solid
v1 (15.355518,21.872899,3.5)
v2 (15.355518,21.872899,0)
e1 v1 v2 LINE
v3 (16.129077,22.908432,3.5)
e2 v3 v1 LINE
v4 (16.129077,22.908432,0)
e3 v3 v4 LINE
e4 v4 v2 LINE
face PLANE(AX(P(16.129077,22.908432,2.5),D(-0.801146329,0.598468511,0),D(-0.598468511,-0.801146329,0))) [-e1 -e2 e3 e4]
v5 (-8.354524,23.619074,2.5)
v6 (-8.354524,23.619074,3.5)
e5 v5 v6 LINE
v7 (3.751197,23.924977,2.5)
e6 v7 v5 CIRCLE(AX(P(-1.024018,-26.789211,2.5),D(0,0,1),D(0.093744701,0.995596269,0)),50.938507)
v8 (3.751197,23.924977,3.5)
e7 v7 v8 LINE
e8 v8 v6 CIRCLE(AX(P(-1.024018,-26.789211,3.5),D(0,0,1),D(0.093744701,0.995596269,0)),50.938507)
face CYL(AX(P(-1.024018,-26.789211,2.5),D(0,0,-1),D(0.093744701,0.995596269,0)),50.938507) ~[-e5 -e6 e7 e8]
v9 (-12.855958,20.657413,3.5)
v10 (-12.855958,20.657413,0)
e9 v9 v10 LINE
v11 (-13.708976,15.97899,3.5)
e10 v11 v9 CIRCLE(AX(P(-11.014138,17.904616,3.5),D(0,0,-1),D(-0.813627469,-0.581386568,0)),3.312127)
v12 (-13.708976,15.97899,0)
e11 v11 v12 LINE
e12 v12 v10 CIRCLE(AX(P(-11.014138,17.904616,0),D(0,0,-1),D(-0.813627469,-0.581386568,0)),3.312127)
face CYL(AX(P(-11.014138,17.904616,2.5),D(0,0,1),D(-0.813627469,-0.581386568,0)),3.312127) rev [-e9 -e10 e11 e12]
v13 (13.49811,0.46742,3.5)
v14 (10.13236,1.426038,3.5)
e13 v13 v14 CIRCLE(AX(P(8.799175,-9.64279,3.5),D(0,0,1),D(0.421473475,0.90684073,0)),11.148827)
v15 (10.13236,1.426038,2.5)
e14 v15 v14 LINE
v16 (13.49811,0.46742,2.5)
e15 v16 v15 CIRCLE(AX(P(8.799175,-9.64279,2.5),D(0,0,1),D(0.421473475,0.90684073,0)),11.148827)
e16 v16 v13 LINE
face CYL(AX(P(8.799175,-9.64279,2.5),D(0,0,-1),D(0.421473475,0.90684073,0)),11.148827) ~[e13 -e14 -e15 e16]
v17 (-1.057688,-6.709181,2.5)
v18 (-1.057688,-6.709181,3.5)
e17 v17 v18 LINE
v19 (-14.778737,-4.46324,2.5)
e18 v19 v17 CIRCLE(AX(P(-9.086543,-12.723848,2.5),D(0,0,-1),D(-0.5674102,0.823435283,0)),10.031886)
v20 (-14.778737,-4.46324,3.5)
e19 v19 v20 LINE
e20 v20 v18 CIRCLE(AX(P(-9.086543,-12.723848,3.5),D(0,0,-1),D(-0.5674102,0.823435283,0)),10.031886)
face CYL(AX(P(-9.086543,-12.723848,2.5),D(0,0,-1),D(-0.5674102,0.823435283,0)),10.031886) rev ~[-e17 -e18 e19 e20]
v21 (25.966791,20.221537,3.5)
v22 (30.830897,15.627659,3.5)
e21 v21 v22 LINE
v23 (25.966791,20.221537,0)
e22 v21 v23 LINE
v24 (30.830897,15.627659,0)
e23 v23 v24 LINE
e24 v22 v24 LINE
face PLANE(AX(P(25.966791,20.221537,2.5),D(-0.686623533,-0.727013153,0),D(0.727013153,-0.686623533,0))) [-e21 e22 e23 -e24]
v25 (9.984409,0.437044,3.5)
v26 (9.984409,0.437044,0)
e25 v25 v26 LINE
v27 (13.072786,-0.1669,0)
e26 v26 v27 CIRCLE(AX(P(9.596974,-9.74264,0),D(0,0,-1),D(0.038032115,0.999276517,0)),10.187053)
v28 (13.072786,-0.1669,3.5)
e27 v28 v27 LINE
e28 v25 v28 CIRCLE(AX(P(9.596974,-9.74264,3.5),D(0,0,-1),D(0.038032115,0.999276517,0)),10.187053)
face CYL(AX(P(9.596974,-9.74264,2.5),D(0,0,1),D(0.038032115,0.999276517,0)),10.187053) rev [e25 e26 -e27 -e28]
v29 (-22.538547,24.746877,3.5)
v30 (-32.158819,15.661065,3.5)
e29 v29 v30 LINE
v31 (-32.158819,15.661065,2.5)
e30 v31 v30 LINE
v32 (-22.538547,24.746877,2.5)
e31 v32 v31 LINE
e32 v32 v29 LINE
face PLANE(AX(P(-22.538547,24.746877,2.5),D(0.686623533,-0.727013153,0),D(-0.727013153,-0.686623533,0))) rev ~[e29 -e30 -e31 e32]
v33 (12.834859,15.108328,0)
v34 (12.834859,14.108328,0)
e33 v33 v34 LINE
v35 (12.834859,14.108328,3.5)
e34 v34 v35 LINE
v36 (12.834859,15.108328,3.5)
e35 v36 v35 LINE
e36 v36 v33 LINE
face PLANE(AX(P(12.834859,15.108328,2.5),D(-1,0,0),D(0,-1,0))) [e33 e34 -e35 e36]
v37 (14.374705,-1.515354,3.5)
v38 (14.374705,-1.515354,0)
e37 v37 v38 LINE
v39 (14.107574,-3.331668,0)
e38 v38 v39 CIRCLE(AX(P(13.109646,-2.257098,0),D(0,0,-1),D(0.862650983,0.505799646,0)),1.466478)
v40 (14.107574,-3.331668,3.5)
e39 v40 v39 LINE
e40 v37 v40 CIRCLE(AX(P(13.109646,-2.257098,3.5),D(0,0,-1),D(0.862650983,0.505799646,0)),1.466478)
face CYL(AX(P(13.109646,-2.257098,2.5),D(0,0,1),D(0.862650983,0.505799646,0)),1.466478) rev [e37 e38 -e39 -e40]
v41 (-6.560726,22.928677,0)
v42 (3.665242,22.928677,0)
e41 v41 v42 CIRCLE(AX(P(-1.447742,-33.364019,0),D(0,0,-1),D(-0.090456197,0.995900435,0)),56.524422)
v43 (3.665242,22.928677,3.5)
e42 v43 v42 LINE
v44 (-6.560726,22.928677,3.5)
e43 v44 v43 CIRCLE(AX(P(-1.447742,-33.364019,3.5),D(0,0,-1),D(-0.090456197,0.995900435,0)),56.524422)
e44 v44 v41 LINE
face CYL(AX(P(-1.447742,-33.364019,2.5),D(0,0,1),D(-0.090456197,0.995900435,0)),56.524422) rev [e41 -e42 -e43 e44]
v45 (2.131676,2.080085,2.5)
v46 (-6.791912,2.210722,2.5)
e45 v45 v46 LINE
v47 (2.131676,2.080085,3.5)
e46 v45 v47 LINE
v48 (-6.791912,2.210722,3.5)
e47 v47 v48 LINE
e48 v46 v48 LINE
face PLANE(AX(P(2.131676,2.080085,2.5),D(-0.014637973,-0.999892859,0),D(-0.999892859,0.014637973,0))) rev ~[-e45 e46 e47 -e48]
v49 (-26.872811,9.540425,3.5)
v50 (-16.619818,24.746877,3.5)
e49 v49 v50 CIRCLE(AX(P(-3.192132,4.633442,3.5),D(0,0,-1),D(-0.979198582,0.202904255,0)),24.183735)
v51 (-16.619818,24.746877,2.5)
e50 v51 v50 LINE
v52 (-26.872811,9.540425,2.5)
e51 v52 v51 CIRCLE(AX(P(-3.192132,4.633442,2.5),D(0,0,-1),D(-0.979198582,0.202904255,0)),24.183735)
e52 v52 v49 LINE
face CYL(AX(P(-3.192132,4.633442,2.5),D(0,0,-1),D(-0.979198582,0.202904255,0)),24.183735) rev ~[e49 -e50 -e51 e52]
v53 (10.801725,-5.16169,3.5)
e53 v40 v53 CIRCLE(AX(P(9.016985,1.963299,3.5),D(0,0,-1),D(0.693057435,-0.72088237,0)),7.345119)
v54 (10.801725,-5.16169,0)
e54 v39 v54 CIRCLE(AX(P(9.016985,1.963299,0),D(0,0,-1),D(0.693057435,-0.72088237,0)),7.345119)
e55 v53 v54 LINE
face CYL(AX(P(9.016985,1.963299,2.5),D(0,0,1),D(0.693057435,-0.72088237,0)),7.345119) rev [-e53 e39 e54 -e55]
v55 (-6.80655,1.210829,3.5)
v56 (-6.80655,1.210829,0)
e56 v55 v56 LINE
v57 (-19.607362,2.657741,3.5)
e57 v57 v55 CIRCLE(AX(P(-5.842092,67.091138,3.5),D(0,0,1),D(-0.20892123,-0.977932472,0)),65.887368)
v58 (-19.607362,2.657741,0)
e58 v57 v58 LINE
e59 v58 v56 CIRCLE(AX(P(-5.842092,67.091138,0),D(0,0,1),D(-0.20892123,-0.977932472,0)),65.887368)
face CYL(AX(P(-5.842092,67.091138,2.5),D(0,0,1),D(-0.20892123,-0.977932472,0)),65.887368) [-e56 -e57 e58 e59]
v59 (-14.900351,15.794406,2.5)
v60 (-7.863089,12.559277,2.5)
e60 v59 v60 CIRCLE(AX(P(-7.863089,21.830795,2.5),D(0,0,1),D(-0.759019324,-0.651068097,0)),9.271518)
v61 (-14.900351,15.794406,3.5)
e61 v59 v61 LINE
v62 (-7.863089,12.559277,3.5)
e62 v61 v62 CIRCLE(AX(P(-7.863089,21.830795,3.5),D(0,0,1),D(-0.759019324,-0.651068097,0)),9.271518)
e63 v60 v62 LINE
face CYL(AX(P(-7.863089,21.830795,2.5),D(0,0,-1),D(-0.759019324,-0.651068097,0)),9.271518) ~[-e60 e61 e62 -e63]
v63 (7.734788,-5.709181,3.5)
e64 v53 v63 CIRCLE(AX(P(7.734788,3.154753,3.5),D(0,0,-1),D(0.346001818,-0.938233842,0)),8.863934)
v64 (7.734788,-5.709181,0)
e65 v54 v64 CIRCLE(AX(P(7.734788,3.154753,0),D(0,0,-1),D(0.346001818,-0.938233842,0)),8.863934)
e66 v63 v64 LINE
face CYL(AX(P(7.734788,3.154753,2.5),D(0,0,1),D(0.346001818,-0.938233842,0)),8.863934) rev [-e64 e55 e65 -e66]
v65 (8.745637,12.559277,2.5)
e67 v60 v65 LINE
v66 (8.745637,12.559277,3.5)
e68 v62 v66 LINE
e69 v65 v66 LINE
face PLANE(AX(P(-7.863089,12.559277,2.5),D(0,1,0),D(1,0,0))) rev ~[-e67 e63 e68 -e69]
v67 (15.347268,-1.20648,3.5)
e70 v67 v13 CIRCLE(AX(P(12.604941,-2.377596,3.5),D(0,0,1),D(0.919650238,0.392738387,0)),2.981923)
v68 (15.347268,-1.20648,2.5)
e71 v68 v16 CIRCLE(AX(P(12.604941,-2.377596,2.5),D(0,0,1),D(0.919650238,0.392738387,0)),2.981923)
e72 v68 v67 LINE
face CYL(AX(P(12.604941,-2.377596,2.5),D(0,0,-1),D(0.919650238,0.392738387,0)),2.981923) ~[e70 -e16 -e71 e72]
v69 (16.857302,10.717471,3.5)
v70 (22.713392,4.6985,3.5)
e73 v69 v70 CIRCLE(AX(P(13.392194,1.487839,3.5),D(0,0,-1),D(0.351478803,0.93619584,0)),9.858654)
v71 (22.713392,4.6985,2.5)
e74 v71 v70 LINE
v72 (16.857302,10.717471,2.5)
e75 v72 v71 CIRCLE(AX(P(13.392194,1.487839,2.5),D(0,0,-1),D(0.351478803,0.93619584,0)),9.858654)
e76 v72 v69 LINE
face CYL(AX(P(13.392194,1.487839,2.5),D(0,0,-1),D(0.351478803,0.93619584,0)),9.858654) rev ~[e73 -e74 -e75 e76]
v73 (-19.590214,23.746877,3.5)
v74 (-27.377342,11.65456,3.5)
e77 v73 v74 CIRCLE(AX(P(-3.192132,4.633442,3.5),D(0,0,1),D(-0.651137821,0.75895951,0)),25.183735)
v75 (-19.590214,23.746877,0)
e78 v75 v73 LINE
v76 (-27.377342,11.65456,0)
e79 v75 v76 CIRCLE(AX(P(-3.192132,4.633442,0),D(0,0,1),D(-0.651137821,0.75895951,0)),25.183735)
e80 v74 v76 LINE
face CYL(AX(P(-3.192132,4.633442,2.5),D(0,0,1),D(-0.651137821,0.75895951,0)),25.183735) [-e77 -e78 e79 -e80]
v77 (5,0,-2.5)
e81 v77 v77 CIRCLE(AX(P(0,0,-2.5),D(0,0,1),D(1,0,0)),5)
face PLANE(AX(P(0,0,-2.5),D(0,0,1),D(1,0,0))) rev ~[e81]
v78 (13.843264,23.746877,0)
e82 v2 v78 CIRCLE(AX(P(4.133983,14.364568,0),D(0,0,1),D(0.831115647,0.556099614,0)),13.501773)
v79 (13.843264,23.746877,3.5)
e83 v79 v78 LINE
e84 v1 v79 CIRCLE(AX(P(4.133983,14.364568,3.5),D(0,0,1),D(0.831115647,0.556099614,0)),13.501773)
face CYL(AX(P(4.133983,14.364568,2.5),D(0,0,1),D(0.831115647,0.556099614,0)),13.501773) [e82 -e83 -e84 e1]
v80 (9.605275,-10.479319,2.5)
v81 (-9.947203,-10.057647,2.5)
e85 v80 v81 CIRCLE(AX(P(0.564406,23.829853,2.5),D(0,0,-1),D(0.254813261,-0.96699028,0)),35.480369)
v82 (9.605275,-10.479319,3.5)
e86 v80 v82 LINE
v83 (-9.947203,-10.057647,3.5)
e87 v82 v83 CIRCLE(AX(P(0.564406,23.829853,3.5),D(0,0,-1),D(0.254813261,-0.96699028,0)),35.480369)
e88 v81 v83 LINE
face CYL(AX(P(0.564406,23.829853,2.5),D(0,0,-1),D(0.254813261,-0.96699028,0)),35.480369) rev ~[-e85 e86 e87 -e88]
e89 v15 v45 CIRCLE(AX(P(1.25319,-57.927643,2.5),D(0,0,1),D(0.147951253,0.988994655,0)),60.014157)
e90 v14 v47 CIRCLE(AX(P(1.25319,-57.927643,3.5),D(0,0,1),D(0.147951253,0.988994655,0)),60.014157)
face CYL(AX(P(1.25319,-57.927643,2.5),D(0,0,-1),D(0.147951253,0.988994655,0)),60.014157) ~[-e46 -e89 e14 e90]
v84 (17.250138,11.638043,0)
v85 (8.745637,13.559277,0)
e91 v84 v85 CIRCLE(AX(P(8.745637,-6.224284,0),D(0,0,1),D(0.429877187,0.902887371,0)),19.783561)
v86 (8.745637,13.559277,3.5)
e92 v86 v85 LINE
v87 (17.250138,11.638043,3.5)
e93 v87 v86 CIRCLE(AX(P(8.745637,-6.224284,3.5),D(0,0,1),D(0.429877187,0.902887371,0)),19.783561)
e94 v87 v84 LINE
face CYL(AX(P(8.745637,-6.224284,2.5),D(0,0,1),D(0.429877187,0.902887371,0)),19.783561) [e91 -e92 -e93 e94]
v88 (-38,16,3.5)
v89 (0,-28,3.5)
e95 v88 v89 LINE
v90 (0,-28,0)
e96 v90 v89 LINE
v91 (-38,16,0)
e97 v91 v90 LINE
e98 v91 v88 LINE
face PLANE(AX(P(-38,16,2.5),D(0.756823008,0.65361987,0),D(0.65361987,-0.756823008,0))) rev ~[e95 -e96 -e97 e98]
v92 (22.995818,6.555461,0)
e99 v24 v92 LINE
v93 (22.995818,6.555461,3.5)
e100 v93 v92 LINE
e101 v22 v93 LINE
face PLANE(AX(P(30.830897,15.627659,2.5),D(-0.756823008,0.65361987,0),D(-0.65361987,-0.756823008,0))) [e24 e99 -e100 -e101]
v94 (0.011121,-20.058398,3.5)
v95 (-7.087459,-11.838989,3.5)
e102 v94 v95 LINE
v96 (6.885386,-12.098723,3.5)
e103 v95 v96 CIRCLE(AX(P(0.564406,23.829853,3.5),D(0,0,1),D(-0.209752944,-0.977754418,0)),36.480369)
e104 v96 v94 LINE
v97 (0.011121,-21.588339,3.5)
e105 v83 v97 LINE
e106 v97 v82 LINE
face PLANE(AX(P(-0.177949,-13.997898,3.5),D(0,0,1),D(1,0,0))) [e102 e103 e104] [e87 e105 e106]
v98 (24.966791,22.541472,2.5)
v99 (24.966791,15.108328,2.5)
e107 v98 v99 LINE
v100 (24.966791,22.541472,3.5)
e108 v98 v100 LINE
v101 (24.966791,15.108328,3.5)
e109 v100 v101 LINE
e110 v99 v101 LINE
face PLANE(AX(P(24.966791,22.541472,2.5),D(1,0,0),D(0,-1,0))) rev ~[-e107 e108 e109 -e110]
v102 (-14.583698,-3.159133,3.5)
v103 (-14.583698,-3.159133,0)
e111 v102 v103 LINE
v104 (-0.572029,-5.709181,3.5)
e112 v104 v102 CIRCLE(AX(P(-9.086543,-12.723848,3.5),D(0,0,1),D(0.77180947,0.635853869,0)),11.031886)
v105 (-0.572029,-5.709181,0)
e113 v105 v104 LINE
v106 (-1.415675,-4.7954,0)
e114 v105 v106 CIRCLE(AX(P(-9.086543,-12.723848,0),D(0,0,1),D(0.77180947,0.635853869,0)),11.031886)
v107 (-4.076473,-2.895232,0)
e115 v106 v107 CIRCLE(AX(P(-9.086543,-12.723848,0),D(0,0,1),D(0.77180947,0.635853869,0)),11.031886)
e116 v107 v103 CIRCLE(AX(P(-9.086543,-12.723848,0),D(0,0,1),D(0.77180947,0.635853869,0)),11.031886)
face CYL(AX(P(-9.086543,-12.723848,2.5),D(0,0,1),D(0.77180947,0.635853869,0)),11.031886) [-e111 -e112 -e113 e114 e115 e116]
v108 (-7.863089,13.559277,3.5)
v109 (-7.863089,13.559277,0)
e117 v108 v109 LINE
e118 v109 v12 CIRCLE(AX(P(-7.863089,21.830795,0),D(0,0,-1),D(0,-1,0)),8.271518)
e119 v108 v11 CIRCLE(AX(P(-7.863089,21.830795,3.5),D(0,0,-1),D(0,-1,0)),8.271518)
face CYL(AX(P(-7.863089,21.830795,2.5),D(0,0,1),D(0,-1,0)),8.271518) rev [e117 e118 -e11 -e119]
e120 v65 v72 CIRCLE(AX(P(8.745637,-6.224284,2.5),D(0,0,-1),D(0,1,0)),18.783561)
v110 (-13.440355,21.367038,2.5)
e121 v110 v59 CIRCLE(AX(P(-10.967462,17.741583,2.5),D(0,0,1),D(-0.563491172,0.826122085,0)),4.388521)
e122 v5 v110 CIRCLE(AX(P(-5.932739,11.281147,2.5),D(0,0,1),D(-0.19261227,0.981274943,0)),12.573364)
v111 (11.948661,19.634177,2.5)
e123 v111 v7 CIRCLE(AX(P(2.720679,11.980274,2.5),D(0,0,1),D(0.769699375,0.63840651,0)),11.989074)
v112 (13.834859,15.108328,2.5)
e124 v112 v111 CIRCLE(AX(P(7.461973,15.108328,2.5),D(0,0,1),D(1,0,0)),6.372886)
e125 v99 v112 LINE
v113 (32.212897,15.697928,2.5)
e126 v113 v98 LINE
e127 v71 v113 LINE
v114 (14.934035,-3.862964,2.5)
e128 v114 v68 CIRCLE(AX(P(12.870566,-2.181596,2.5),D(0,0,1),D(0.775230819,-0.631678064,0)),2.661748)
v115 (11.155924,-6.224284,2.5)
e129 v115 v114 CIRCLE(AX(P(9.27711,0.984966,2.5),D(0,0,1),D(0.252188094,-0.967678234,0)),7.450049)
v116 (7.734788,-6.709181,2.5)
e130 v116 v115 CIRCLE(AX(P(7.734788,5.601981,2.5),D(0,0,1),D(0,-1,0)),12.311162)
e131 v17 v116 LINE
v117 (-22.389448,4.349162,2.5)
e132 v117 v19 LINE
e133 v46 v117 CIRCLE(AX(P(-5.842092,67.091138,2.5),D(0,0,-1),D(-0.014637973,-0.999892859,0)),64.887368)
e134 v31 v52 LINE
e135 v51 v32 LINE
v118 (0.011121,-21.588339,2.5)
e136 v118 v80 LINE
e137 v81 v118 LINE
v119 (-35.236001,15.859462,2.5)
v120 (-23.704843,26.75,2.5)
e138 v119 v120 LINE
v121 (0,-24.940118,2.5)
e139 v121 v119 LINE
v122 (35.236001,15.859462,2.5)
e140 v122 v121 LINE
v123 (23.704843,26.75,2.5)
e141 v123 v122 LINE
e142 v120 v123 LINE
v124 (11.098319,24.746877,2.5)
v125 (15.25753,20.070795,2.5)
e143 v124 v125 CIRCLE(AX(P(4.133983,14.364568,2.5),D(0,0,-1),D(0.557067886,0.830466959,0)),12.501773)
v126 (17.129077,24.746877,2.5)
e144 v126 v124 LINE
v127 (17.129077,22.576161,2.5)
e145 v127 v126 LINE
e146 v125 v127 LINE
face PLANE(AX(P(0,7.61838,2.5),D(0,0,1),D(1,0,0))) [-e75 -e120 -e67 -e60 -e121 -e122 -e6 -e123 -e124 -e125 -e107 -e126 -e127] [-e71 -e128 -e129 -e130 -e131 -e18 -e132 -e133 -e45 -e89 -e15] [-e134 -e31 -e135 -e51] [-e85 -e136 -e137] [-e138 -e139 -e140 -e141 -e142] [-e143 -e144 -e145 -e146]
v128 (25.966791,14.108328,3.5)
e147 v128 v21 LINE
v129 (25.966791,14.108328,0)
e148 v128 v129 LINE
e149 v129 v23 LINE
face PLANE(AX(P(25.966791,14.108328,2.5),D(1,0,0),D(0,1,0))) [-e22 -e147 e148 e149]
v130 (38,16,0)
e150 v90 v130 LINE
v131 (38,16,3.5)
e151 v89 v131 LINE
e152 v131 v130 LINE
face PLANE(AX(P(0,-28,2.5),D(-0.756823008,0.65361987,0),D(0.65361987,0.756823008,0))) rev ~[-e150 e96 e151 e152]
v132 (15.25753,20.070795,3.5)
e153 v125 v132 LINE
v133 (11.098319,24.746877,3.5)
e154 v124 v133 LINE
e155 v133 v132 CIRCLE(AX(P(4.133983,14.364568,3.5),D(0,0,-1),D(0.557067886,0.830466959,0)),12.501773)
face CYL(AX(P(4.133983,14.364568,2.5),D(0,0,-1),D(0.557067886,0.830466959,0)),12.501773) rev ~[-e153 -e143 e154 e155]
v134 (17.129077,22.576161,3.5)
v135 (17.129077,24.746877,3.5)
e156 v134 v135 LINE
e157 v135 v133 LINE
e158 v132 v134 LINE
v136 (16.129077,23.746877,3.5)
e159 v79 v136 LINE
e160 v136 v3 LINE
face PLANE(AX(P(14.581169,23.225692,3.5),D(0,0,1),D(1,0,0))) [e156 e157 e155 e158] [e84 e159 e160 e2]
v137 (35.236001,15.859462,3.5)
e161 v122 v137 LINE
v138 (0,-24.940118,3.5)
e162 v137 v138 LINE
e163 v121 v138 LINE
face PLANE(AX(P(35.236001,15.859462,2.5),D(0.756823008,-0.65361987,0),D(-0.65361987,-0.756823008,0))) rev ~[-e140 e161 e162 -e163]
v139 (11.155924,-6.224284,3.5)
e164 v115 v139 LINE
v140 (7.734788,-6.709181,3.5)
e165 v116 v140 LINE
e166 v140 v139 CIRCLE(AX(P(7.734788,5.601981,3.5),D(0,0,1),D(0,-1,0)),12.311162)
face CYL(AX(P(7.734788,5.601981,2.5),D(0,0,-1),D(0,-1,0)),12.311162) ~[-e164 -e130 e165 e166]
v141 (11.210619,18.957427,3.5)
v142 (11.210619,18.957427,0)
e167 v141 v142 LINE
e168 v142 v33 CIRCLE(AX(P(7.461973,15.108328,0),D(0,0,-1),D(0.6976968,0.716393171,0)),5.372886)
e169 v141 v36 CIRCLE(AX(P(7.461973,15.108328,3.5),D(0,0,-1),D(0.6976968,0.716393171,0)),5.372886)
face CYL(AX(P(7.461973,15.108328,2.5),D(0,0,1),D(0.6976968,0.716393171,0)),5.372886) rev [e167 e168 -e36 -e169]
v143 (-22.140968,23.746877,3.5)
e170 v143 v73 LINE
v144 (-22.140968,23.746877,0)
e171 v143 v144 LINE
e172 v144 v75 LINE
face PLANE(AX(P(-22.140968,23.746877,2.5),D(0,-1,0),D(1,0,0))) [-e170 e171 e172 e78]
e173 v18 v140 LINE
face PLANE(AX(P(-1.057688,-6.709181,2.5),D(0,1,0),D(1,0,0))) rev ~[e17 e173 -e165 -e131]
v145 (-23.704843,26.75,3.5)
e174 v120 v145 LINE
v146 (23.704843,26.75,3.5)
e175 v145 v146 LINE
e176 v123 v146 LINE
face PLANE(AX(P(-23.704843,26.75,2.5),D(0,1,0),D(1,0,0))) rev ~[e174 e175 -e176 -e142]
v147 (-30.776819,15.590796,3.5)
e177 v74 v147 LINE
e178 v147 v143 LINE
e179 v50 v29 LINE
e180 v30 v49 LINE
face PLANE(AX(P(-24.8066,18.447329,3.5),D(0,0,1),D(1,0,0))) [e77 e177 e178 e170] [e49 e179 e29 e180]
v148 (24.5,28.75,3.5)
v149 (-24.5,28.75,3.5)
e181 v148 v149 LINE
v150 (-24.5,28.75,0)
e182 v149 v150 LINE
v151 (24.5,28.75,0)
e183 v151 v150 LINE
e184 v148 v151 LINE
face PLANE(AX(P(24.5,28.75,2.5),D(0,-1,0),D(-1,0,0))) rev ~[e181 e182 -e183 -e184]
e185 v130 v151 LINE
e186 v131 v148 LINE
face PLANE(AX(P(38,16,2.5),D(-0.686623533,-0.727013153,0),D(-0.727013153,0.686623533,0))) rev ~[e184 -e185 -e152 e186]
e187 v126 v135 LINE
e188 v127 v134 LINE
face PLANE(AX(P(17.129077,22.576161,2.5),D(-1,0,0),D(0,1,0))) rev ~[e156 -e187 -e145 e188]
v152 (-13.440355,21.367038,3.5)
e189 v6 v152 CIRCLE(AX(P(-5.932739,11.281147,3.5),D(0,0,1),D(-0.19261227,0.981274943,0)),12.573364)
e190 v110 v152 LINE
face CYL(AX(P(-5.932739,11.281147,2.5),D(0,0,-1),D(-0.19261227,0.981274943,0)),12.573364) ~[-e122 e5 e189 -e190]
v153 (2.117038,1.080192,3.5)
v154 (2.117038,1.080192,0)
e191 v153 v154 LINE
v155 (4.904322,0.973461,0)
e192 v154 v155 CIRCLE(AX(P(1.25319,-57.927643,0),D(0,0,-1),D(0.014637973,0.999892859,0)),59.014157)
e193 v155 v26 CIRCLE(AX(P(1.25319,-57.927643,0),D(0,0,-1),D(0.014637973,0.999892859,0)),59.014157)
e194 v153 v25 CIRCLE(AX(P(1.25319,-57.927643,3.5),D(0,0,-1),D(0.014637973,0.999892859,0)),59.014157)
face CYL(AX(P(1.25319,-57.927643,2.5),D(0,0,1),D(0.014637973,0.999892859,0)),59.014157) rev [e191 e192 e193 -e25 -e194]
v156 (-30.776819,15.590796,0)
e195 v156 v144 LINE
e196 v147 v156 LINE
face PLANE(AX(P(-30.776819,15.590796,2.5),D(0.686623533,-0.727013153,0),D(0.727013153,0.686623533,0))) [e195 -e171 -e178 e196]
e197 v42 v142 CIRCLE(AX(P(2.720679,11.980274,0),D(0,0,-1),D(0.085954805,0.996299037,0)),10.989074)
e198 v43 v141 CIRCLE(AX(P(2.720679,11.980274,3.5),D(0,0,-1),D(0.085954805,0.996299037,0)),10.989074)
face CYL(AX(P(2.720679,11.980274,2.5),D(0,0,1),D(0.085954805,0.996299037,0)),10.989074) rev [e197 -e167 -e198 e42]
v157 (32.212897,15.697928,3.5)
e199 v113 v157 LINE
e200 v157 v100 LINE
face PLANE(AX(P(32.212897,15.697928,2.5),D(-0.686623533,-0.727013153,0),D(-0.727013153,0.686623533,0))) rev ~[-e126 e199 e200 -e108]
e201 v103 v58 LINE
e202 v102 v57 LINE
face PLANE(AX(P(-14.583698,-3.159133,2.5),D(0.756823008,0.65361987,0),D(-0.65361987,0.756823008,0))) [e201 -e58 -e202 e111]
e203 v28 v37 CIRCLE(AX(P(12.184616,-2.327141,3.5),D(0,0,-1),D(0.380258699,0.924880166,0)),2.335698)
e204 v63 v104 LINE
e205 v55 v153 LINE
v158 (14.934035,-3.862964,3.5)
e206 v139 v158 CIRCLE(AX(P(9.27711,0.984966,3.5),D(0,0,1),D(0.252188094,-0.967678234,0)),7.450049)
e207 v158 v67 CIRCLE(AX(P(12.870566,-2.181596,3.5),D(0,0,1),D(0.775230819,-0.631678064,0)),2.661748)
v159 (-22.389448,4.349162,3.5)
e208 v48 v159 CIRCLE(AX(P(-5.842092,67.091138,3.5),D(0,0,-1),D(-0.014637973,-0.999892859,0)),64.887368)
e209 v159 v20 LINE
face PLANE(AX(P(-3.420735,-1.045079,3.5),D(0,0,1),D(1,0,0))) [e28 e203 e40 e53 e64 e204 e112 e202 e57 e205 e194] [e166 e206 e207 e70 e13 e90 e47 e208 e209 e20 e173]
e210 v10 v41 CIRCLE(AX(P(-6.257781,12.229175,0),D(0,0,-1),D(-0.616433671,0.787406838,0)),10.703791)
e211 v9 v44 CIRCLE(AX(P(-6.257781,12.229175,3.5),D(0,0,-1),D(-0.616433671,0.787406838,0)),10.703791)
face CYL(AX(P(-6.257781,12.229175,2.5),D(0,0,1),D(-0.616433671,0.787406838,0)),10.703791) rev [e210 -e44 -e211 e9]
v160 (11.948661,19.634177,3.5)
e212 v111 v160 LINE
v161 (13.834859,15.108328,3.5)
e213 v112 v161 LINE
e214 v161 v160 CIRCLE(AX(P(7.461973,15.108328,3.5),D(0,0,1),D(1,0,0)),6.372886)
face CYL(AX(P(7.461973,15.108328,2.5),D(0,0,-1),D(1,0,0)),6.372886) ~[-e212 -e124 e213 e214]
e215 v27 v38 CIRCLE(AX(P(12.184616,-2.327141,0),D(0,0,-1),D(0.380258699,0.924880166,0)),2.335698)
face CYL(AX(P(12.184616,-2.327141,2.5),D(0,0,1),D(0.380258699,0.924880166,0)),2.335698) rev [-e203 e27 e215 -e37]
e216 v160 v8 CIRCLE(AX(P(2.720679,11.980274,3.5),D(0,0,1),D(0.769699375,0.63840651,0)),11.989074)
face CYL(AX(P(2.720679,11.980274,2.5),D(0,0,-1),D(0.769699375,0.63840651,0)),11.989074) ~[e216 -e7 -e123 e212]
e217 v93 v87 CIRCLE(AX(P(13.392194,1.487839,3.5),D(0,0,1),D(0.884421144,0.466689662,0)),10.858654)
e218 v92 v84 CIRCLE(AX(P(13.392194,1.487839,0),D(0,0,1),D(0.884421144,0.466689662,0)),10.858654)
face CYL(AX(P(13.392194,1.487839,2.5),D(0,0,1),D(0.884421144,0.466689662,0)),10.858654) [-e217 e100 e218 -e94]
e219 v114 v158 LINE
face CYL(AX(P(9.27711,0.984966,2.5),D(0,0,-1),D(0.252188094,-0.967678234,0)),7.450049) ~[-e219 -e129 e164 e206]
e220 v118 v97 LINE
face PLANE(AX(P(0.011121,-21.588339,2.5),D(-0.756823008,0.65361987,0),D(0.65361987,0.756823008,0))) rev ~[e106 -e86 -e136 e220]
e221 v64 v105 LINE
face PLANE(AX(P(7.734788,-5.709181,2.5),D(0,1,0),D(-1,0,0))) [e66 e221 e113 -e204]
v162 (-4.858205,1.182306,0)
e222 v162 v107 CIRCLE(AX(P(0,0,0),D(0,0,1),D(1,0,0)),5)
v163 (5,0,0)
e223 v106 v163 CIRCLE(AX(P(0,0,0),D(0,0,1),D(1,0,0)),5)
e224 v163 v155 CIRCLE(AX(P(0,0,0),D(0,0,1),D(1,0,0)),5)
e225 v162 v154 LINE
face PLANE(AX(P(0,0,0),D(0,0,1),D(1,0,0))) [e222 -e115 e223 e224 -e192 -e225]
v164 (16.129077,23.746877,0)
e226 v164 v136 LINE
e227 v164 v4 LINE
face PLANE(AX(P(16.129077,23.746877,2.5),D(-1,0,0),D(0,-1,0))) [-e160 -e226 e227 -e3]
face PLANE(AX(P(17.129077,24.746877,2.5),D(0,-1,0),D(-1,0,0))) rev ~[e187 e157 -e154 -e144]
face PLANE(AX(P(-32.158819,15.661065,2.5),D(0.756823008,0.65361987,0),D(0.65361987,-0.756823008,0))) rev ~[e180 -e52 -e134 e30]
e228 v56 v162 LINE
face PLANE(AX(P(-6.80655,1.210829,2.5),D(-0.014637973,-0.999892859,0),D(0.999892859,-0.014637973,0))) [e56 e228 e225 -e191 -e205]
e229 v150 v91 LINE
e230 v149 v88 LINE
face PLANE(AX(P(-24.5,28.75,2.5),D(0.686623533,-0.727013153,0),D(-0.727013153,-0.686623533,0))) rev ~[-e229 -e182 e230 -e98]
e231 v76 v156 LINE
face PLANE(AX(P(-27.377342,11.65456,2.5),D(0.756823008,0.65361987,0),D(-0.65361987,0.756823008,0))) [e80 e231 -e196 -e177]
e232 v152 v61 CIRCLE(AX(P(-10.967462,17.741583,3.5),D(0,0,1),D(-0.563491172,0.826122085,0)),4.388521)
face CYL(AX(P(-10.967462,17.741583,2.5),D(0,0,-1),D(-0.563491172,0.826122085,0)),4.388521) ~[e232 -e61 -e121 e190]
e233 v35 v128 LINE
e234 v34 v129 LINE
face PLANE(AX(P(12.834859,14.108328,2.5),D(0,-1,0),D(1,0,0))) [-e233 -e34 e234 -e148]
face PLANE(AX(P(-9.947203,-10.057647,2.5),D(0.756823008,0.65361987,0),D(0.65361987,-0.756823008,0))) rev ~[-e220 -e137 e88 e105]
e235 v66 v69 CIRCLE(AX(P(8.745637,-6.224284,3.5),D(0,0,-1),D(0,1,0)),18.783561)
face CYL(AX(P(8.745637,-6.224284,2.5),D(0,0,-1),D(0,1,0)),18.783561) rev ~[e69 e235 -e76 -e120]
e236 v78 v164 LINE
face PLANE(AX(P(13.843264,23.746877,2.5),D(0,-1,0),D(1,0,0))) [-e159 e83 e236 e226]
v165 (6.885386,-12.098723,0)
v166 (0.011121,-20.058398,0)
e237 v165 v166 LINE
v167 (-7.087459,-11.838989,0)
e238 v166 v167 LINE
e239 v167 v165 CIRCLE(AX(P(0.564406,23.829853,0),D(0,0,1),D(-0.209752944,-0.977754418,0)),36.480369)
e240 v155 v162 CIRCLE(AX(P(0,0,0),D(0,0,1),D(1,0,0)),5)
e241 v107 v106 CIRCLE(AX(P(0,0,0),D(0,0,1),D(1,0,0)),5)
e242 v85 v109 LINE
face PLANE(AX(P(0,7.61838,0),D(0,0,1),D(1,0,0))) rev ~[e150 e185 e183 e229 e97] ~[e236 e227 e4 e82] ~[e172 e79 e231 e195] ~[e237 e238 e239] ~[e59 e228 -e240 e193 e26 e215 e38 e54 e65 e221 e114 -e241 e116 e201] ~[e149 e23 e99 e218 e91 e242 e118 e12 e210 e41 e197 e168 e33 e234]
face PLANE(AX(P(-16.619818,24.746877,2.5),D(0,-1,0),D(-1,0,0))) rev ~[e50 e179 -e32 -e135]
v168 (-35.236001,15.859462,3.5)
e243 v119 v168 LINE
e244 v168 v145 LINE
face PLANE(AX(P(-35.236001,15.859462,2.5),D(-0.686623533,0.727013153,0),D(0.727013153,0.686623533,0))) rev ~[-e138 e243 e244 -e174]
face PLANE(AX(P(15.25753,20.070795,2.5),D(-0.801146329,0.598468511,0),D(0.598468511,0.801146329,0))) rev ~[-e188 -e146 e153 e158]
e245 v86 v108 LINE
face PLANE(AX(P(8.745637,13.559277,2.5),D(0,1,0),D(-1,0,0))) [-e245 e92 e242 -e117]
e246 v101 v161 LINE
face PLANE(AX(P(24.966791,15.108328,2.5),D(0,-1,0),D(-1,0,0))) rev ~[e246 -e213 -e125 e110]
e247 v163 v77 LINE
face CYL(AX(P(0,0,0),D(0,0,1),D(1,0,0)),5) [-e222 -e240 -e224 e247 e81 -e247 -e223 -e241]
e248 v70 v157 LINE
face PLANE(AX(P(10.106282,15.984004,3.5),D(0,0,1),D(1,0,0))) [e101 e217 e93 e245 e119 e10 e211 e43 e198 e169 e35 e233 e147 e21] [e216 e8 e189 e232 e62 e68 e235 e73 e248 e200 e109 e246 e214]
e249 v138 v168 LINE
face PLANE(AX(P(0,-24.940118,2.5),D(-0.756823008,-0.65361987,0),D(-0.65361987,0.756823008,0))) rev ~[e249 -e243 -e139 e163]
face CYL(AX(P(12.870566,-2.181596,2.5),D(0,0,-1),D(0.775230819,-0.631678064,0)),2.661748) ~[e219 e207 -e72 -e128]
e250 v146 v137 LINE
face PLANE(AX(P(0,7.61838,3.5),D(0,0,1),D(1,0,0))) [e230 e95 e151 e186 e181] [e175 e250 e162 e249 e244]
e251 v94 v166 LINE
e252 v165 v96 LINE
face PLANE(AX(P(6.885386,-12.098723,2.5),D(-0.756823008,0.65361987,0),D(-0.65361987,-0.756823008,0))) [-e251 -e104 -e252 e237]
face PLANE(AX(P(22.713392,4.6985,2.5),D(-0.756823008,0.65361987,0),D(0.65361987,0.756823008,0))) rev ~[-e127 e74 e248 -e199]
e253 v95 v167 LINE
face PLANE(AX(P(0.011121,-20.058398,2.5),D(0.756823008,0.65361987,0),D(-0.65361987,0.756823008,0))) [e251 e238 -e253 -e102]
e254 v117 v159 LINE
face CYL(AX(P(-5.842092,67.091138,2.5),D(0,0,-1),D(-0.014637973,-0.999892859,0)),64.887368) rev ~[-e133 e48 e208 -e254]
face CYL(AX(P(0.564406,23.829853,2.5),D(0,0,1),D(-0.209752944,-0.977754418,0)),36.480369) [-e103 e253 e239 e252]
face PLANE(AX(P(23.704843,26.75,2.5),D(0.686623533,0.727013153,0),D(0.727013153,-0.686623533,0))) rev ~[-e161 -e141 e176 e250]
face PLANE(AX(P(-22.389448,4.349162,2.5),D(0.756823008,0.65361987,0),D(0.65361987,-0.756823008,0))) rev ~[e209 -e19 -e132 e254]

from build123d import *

# Parameters (mm, degrees)
F1_DEPTH = 2.5
F3_DEPTH = 1
F4_DEPTH = 2.5
F5_R     = 5
F6_DEPTH = 2.5


with BuildPart() as f1:
    # F0 (on Top) → F1 (new body)
    with BuildSketch(Plane.XY):
        Polygon((24.5, 28.75), (-24.5, 28.75), (-38, 16), (0, -28), (38, 16), align=None)
    extrude(amount=F1_DEPTH)

    # F2 (on face) → F3 (join)
    with BuildSketch(Plane.XY.offset(2.5)):
        Polygon((-24.5, 28.75), (-38, 16), (0, -28), (38, 16), (24.5, 28.75), align=None)
        Polygon((0, -24.9401175045), (-35.2360005395, 15.8594620676), (-23.7048427287, 26.75), (23.7048427287, 26.75), (35.2360005395, 15.8594620676), align=None, mode=Mode.SUBTRACT)
        with BuildLine():
            Line((22.7133916393, 4.6985002576), (32.2128970418, 15.6979275658))
            Line((32.2128970418, 15.6979275658), (24.9667909899, 22.5414721704))
            Line((24.9667909899, 22.5414721704), (24.9667909899, 15.1083281487))
            Line((24.9667909899, 15.1083281487), (13.8348590806, 15.1083281487))
            ThreePointArc((13.8348590806, 15.1083281487), (13.3444397283, 17.5599116804), (11.9486611802, 19.6341766584))
            ThreePointArc((11.9486611802, 19.6341766584), (8.2805304238, 22.6022293507), (3.7511971493, 23.9249765365))
            ThreePointArc((3.7511971493, 23.9249765365), (-2.3107858295, 24.1330407686), (-8.3545236117, 23.6190738634))
            ThreePointArc((-8.3545236117, 23.6190738634), (-11.0235311437, 22.7778125064), (-13.4403547272, 21.3670376688))
            ThreePointArc((-13.4403547272, 21.3670376688), (-15.212702444, 18.8538109385), (-14.9003509432, 15.7944055113))
            ThreePointArc((-14.9003509432, 15.7944055113), (-11.7357211664, 13.4067953643), (-7.8630894423, 12.5592770055))
            Line((-7.8630894423, 12.5592770055), (8.745636791, 12.5592770055))
            ThreePointArc((8.745636791, 12.5592770055), (12.9047041932, 12.0930390125), (16.8573021999, 10.7174705771))
            ThreePointArc((16.8573021999, 10.7174705771), (20.4582682574, 8.3626966604), (22.7133916393, 4.6985002576))
        make_face()
        with BuildLine():
            Line((25.9667909899, 14.1083281487), (25.9667909899, 20.2215367922))
            Line((25.9667909899, 20.2215367922), (30.8308973116, 15.6276585996))
            Line((30.8308973116, 15.6276585996), (22.9958176649, 6.5554611139))
            ThreePointArc((22.9958176649, 6.5554611139), (20.586748465, 9.6210283517), (17.2501383205, 11.6380433846))
            ThreePointArc((17.2501383205, 11.6380433846), (13.1050428541, 13.0729920976), (8.745636791, 13.5592770055))
            Line((8.745636791, 13.5592770055), (-7.8630894423, 13.5592770055))
            ThreePointArc((-7.8630894423, 13.5592770055), (-11.026529119, 14.1881083225), (-13.7089760974, 15.9789901227))
            ThreePointArc((-13.7089760974, 15.9789901227), (-14.2725466885, 18.498722854), (-12.8559581935, 20.6574127078))
            ThreePointArc((-12.8559581935, 20.6574127078), (-9.8904154712, 22.2976951419), (-6.5607260913, 22.9286774993))
            ThreePointArc((-6.5607260913, 22.9286774993), (-1.4477418736, 23.1604030388), (3.6652423441, 22.9286774993))
            ThreePointArc((3.6652423441, 22.9286774993), (7.8388006263, 21.704705466), (11.2106185406, 18.9574267715))
            ThreePointArc((11.2106185406, 18.9574267715), (12.4121725039, 17.1972104778), (12.8348590806, 15.1083281487))
            Line((12.8348590806, 15.1083281487), (12.8348590806, 14.1083281487))
            Line((12.8348590806, 14.1083281487), (25.9667909899, 14.1083281487))
        make_face(mode=Mode.SUBTRACT)
        with BuildLine():
            ThreePointArc((-6.7919120193, 2.210722072), (-14.655775713, 2.8051401774), (-22.3894476737, 4.349161901))
            Line((-22.3894476737, 4.349161901), (-14.7787371056, -4.4632398095))
            ThreePointArc((-14.7787371056, -4.4632398095), (-7.466030983, -2.8237135208), (-1.0576881468, -6.709181238))
            Line((-1.0576881468, -6.709181238), (7.7347876504, -6.709181238))
            ThreePointArc((7.7347876504, -6.709181238), (9.4624521238, -6.5873541357), (11.1559238285, -6.2242839485))
            ThreePointArc((11.1559238285, -6.2242839485), (13.2256284307, -5.3326624688), (14.9340350181, -3.8629642222))
            ThreePointArc((14.9340350181, -3.8629642222), (15.5006827522, -2.59072721), (15.3472675011, -1.2064799666))
            ThreePointArc((15.3472675011, -1.2064799666), (14.6061136564, -0.1669001783), (13.4981097654, 0.4674203519))
            ThreePointArc((13.4981097654, 0.4674203519), (11.8530830846, 1.0796158365), (10.1323601002, 1.4260382698))
            ThreePointArc((10.1323601002, 1.4260382698), (6.1429657723, 1.8869809032), (2.1316759441, 2.0800848343))
            Line((2.1316759441, 2.0800848343), (-6.7919120193, 2.210722072))
        make_face()
        with BuildLine():
            Line((-14.5836983502, -3.1591329101), (-19.6073624646, 2.6577413276))
            ThreePointArc((-19.6073624646, 2.6577413276), (-13.2424037369, 1.6206816287), (-6.8065499924, 1.2108292129))
            Line((-6.8065499924, 1.2108292129), (2.1170379709, 1.0801919752))
            ThreePointArc((2.1170379709, 1.0801919752), (6.0614887398, 0.8903056837), (9.9844088472, 0.4370436152))
            ThreePointArc((9.9844088472, 0.4370436152), (11.5520586297, 0.255045089), (13.0727859214, -0.1669001783))
            ThreePointArc((13.0727859214, -0.1669001783), (13.8649438936, -0.7048016123), (14.3747050315, -1.5153543791))
            ThreePointArc((14.3747050315, -1.5153543791), (14.560516724, -2.4704828367), (14.1075737774, -3.3316675108))
            ThreePointArc((14.1075737774, -3.3316675108), (12.5743410862, -4.4628960627), (10.8017250896, -5.16169006))
            ThreePointArc((10.8017250896, -5.16169006), (9.2924984584, -5.5712350402), (7.7347876504, -5.709181238))
            Line((7.7347876504, -5.709181238), (-0.5720290784, -5.709181238))
            ThreePointArc((-0.5720290784, -5.709181238), (-7.1112455745, -1.8702452534), (-14.5836983502, -3.1591329101))
        make_face(mode=Mode.SUBTRACT)
        with BuildLine():
            ThreePointArc((9.6052747881, -10.4793192543), (-0.2005916003, -11.6422682343), (-9.9472034322, -10.0576472208))
            Line((-9.9472034322, -10.0576472208), (0.0111213288, -21.5883390493))
            Line((0.0111213288, -21.5883390493), (9.6052747881, -10.4793192543))
        make_face()
        with BuildLine():
            Line((0.0111213288, -20.0583978016), (-7.0874587678, -11.8389892686))
            ThreePointArc((-7.0874587678, -11.8389892686), (-0.1135902043, -12.6442154046), (6.8853861251, -12.0987227742))
            Line((6.8853861251, -12.0987227742), (0.0111213288, -20.0583978016))
        make_face(mode=Mode.SUBTRACT)
        with BuildLine():
            Line((-22.5385466175, 24.7468773517), (-32.1588185263, 15.6610649934))
            Line((-32.1588185263, 15.6610649934), (-26.8728109728, 9.5404246683))
            ThreePointArc((-26.8728109728, 9.5404246683), (-23.2437339896, 18.1532901464), (-16.6198182851, 24.7468773517))
            Line((-16.6198182851, 24.7468773517), (-22.5385466175, 24.7468773517))
        make_face()
        with BuildLine():
            Line((-27.3773424364, 11.6545602424), (-30.7768187961, 15.5907960272))
            Line((-30.7768187961, 15.5907960272), (-22.1409679819, 23.7468773517))
            Line((-22.1409679819, 23.7468773517), (-19.5902141433, 23.7468773517))
            ThreePointArc((-19.5902141433, 23.7468773517), (-24.3653920595, 18.2684544483), (-27.3773424364, 11.6545602424))
        make_face(mode=Mode.SUBTRACT)
        with BuildLine():
            Line((17.1290766448, 24.7468773517), (11.0983193584, 24.7468773517))
            ThreePointArc((11.0983193584, 24.7468773517), (13.4752527233, 22.6732988786), (15.2575302327, 20.0707949334))
            Line((15.2575302327, 20.0707949334), (17.1290766448, 22.5761607289))
            Line((17.1290766448, 22.5761607289), (17.1290766448, 24.7468773517))
        make_face()
        with BuildLine():
            Line((16.1290766448, 22.9084316287), (15.3555178299, 21.8728987756))
            ThreePointArc((15.3555178299, 21.8728987756), (14.6412526921, 22.843669283), (13.8432644406, 23.7468773517))
            Line((13.8432644406, 23.7468773517), (16.1290766448, 23.7468773517))
            Line((16.1290766448, 23.7468773517), (16.1290766448, 22.9084316287))
        make_face(mode=Mode.SUBTRACT)
    extrude(amount=F3_DEPTH)

    # F4 (cut): faces of the model
    f4_faces = [f1.faces().sort_by_distance(p)[0] for p in [
        (5.2313020526, 16.7100656125, 2.5),
        (15.2310227717, 23.0949791253, 2.5),
        (-25.9928017911, 17.89640638, 2.5),
        (-0.20025716, -1.5946330551, 2.5),
        (-0.0583233398, -14.9701076081, 2.5),
    ]]
    extrude(f4_faces, amount=-F4_DEPTH, mode=Mode.SUBTRACT)

    # F5 (on Top) → F6 (join)
    with BuildSketch(Plane.XY):
        Circle(F5_R)
    extrude(amount=-F6_DEPTH)


solid = f1.part
